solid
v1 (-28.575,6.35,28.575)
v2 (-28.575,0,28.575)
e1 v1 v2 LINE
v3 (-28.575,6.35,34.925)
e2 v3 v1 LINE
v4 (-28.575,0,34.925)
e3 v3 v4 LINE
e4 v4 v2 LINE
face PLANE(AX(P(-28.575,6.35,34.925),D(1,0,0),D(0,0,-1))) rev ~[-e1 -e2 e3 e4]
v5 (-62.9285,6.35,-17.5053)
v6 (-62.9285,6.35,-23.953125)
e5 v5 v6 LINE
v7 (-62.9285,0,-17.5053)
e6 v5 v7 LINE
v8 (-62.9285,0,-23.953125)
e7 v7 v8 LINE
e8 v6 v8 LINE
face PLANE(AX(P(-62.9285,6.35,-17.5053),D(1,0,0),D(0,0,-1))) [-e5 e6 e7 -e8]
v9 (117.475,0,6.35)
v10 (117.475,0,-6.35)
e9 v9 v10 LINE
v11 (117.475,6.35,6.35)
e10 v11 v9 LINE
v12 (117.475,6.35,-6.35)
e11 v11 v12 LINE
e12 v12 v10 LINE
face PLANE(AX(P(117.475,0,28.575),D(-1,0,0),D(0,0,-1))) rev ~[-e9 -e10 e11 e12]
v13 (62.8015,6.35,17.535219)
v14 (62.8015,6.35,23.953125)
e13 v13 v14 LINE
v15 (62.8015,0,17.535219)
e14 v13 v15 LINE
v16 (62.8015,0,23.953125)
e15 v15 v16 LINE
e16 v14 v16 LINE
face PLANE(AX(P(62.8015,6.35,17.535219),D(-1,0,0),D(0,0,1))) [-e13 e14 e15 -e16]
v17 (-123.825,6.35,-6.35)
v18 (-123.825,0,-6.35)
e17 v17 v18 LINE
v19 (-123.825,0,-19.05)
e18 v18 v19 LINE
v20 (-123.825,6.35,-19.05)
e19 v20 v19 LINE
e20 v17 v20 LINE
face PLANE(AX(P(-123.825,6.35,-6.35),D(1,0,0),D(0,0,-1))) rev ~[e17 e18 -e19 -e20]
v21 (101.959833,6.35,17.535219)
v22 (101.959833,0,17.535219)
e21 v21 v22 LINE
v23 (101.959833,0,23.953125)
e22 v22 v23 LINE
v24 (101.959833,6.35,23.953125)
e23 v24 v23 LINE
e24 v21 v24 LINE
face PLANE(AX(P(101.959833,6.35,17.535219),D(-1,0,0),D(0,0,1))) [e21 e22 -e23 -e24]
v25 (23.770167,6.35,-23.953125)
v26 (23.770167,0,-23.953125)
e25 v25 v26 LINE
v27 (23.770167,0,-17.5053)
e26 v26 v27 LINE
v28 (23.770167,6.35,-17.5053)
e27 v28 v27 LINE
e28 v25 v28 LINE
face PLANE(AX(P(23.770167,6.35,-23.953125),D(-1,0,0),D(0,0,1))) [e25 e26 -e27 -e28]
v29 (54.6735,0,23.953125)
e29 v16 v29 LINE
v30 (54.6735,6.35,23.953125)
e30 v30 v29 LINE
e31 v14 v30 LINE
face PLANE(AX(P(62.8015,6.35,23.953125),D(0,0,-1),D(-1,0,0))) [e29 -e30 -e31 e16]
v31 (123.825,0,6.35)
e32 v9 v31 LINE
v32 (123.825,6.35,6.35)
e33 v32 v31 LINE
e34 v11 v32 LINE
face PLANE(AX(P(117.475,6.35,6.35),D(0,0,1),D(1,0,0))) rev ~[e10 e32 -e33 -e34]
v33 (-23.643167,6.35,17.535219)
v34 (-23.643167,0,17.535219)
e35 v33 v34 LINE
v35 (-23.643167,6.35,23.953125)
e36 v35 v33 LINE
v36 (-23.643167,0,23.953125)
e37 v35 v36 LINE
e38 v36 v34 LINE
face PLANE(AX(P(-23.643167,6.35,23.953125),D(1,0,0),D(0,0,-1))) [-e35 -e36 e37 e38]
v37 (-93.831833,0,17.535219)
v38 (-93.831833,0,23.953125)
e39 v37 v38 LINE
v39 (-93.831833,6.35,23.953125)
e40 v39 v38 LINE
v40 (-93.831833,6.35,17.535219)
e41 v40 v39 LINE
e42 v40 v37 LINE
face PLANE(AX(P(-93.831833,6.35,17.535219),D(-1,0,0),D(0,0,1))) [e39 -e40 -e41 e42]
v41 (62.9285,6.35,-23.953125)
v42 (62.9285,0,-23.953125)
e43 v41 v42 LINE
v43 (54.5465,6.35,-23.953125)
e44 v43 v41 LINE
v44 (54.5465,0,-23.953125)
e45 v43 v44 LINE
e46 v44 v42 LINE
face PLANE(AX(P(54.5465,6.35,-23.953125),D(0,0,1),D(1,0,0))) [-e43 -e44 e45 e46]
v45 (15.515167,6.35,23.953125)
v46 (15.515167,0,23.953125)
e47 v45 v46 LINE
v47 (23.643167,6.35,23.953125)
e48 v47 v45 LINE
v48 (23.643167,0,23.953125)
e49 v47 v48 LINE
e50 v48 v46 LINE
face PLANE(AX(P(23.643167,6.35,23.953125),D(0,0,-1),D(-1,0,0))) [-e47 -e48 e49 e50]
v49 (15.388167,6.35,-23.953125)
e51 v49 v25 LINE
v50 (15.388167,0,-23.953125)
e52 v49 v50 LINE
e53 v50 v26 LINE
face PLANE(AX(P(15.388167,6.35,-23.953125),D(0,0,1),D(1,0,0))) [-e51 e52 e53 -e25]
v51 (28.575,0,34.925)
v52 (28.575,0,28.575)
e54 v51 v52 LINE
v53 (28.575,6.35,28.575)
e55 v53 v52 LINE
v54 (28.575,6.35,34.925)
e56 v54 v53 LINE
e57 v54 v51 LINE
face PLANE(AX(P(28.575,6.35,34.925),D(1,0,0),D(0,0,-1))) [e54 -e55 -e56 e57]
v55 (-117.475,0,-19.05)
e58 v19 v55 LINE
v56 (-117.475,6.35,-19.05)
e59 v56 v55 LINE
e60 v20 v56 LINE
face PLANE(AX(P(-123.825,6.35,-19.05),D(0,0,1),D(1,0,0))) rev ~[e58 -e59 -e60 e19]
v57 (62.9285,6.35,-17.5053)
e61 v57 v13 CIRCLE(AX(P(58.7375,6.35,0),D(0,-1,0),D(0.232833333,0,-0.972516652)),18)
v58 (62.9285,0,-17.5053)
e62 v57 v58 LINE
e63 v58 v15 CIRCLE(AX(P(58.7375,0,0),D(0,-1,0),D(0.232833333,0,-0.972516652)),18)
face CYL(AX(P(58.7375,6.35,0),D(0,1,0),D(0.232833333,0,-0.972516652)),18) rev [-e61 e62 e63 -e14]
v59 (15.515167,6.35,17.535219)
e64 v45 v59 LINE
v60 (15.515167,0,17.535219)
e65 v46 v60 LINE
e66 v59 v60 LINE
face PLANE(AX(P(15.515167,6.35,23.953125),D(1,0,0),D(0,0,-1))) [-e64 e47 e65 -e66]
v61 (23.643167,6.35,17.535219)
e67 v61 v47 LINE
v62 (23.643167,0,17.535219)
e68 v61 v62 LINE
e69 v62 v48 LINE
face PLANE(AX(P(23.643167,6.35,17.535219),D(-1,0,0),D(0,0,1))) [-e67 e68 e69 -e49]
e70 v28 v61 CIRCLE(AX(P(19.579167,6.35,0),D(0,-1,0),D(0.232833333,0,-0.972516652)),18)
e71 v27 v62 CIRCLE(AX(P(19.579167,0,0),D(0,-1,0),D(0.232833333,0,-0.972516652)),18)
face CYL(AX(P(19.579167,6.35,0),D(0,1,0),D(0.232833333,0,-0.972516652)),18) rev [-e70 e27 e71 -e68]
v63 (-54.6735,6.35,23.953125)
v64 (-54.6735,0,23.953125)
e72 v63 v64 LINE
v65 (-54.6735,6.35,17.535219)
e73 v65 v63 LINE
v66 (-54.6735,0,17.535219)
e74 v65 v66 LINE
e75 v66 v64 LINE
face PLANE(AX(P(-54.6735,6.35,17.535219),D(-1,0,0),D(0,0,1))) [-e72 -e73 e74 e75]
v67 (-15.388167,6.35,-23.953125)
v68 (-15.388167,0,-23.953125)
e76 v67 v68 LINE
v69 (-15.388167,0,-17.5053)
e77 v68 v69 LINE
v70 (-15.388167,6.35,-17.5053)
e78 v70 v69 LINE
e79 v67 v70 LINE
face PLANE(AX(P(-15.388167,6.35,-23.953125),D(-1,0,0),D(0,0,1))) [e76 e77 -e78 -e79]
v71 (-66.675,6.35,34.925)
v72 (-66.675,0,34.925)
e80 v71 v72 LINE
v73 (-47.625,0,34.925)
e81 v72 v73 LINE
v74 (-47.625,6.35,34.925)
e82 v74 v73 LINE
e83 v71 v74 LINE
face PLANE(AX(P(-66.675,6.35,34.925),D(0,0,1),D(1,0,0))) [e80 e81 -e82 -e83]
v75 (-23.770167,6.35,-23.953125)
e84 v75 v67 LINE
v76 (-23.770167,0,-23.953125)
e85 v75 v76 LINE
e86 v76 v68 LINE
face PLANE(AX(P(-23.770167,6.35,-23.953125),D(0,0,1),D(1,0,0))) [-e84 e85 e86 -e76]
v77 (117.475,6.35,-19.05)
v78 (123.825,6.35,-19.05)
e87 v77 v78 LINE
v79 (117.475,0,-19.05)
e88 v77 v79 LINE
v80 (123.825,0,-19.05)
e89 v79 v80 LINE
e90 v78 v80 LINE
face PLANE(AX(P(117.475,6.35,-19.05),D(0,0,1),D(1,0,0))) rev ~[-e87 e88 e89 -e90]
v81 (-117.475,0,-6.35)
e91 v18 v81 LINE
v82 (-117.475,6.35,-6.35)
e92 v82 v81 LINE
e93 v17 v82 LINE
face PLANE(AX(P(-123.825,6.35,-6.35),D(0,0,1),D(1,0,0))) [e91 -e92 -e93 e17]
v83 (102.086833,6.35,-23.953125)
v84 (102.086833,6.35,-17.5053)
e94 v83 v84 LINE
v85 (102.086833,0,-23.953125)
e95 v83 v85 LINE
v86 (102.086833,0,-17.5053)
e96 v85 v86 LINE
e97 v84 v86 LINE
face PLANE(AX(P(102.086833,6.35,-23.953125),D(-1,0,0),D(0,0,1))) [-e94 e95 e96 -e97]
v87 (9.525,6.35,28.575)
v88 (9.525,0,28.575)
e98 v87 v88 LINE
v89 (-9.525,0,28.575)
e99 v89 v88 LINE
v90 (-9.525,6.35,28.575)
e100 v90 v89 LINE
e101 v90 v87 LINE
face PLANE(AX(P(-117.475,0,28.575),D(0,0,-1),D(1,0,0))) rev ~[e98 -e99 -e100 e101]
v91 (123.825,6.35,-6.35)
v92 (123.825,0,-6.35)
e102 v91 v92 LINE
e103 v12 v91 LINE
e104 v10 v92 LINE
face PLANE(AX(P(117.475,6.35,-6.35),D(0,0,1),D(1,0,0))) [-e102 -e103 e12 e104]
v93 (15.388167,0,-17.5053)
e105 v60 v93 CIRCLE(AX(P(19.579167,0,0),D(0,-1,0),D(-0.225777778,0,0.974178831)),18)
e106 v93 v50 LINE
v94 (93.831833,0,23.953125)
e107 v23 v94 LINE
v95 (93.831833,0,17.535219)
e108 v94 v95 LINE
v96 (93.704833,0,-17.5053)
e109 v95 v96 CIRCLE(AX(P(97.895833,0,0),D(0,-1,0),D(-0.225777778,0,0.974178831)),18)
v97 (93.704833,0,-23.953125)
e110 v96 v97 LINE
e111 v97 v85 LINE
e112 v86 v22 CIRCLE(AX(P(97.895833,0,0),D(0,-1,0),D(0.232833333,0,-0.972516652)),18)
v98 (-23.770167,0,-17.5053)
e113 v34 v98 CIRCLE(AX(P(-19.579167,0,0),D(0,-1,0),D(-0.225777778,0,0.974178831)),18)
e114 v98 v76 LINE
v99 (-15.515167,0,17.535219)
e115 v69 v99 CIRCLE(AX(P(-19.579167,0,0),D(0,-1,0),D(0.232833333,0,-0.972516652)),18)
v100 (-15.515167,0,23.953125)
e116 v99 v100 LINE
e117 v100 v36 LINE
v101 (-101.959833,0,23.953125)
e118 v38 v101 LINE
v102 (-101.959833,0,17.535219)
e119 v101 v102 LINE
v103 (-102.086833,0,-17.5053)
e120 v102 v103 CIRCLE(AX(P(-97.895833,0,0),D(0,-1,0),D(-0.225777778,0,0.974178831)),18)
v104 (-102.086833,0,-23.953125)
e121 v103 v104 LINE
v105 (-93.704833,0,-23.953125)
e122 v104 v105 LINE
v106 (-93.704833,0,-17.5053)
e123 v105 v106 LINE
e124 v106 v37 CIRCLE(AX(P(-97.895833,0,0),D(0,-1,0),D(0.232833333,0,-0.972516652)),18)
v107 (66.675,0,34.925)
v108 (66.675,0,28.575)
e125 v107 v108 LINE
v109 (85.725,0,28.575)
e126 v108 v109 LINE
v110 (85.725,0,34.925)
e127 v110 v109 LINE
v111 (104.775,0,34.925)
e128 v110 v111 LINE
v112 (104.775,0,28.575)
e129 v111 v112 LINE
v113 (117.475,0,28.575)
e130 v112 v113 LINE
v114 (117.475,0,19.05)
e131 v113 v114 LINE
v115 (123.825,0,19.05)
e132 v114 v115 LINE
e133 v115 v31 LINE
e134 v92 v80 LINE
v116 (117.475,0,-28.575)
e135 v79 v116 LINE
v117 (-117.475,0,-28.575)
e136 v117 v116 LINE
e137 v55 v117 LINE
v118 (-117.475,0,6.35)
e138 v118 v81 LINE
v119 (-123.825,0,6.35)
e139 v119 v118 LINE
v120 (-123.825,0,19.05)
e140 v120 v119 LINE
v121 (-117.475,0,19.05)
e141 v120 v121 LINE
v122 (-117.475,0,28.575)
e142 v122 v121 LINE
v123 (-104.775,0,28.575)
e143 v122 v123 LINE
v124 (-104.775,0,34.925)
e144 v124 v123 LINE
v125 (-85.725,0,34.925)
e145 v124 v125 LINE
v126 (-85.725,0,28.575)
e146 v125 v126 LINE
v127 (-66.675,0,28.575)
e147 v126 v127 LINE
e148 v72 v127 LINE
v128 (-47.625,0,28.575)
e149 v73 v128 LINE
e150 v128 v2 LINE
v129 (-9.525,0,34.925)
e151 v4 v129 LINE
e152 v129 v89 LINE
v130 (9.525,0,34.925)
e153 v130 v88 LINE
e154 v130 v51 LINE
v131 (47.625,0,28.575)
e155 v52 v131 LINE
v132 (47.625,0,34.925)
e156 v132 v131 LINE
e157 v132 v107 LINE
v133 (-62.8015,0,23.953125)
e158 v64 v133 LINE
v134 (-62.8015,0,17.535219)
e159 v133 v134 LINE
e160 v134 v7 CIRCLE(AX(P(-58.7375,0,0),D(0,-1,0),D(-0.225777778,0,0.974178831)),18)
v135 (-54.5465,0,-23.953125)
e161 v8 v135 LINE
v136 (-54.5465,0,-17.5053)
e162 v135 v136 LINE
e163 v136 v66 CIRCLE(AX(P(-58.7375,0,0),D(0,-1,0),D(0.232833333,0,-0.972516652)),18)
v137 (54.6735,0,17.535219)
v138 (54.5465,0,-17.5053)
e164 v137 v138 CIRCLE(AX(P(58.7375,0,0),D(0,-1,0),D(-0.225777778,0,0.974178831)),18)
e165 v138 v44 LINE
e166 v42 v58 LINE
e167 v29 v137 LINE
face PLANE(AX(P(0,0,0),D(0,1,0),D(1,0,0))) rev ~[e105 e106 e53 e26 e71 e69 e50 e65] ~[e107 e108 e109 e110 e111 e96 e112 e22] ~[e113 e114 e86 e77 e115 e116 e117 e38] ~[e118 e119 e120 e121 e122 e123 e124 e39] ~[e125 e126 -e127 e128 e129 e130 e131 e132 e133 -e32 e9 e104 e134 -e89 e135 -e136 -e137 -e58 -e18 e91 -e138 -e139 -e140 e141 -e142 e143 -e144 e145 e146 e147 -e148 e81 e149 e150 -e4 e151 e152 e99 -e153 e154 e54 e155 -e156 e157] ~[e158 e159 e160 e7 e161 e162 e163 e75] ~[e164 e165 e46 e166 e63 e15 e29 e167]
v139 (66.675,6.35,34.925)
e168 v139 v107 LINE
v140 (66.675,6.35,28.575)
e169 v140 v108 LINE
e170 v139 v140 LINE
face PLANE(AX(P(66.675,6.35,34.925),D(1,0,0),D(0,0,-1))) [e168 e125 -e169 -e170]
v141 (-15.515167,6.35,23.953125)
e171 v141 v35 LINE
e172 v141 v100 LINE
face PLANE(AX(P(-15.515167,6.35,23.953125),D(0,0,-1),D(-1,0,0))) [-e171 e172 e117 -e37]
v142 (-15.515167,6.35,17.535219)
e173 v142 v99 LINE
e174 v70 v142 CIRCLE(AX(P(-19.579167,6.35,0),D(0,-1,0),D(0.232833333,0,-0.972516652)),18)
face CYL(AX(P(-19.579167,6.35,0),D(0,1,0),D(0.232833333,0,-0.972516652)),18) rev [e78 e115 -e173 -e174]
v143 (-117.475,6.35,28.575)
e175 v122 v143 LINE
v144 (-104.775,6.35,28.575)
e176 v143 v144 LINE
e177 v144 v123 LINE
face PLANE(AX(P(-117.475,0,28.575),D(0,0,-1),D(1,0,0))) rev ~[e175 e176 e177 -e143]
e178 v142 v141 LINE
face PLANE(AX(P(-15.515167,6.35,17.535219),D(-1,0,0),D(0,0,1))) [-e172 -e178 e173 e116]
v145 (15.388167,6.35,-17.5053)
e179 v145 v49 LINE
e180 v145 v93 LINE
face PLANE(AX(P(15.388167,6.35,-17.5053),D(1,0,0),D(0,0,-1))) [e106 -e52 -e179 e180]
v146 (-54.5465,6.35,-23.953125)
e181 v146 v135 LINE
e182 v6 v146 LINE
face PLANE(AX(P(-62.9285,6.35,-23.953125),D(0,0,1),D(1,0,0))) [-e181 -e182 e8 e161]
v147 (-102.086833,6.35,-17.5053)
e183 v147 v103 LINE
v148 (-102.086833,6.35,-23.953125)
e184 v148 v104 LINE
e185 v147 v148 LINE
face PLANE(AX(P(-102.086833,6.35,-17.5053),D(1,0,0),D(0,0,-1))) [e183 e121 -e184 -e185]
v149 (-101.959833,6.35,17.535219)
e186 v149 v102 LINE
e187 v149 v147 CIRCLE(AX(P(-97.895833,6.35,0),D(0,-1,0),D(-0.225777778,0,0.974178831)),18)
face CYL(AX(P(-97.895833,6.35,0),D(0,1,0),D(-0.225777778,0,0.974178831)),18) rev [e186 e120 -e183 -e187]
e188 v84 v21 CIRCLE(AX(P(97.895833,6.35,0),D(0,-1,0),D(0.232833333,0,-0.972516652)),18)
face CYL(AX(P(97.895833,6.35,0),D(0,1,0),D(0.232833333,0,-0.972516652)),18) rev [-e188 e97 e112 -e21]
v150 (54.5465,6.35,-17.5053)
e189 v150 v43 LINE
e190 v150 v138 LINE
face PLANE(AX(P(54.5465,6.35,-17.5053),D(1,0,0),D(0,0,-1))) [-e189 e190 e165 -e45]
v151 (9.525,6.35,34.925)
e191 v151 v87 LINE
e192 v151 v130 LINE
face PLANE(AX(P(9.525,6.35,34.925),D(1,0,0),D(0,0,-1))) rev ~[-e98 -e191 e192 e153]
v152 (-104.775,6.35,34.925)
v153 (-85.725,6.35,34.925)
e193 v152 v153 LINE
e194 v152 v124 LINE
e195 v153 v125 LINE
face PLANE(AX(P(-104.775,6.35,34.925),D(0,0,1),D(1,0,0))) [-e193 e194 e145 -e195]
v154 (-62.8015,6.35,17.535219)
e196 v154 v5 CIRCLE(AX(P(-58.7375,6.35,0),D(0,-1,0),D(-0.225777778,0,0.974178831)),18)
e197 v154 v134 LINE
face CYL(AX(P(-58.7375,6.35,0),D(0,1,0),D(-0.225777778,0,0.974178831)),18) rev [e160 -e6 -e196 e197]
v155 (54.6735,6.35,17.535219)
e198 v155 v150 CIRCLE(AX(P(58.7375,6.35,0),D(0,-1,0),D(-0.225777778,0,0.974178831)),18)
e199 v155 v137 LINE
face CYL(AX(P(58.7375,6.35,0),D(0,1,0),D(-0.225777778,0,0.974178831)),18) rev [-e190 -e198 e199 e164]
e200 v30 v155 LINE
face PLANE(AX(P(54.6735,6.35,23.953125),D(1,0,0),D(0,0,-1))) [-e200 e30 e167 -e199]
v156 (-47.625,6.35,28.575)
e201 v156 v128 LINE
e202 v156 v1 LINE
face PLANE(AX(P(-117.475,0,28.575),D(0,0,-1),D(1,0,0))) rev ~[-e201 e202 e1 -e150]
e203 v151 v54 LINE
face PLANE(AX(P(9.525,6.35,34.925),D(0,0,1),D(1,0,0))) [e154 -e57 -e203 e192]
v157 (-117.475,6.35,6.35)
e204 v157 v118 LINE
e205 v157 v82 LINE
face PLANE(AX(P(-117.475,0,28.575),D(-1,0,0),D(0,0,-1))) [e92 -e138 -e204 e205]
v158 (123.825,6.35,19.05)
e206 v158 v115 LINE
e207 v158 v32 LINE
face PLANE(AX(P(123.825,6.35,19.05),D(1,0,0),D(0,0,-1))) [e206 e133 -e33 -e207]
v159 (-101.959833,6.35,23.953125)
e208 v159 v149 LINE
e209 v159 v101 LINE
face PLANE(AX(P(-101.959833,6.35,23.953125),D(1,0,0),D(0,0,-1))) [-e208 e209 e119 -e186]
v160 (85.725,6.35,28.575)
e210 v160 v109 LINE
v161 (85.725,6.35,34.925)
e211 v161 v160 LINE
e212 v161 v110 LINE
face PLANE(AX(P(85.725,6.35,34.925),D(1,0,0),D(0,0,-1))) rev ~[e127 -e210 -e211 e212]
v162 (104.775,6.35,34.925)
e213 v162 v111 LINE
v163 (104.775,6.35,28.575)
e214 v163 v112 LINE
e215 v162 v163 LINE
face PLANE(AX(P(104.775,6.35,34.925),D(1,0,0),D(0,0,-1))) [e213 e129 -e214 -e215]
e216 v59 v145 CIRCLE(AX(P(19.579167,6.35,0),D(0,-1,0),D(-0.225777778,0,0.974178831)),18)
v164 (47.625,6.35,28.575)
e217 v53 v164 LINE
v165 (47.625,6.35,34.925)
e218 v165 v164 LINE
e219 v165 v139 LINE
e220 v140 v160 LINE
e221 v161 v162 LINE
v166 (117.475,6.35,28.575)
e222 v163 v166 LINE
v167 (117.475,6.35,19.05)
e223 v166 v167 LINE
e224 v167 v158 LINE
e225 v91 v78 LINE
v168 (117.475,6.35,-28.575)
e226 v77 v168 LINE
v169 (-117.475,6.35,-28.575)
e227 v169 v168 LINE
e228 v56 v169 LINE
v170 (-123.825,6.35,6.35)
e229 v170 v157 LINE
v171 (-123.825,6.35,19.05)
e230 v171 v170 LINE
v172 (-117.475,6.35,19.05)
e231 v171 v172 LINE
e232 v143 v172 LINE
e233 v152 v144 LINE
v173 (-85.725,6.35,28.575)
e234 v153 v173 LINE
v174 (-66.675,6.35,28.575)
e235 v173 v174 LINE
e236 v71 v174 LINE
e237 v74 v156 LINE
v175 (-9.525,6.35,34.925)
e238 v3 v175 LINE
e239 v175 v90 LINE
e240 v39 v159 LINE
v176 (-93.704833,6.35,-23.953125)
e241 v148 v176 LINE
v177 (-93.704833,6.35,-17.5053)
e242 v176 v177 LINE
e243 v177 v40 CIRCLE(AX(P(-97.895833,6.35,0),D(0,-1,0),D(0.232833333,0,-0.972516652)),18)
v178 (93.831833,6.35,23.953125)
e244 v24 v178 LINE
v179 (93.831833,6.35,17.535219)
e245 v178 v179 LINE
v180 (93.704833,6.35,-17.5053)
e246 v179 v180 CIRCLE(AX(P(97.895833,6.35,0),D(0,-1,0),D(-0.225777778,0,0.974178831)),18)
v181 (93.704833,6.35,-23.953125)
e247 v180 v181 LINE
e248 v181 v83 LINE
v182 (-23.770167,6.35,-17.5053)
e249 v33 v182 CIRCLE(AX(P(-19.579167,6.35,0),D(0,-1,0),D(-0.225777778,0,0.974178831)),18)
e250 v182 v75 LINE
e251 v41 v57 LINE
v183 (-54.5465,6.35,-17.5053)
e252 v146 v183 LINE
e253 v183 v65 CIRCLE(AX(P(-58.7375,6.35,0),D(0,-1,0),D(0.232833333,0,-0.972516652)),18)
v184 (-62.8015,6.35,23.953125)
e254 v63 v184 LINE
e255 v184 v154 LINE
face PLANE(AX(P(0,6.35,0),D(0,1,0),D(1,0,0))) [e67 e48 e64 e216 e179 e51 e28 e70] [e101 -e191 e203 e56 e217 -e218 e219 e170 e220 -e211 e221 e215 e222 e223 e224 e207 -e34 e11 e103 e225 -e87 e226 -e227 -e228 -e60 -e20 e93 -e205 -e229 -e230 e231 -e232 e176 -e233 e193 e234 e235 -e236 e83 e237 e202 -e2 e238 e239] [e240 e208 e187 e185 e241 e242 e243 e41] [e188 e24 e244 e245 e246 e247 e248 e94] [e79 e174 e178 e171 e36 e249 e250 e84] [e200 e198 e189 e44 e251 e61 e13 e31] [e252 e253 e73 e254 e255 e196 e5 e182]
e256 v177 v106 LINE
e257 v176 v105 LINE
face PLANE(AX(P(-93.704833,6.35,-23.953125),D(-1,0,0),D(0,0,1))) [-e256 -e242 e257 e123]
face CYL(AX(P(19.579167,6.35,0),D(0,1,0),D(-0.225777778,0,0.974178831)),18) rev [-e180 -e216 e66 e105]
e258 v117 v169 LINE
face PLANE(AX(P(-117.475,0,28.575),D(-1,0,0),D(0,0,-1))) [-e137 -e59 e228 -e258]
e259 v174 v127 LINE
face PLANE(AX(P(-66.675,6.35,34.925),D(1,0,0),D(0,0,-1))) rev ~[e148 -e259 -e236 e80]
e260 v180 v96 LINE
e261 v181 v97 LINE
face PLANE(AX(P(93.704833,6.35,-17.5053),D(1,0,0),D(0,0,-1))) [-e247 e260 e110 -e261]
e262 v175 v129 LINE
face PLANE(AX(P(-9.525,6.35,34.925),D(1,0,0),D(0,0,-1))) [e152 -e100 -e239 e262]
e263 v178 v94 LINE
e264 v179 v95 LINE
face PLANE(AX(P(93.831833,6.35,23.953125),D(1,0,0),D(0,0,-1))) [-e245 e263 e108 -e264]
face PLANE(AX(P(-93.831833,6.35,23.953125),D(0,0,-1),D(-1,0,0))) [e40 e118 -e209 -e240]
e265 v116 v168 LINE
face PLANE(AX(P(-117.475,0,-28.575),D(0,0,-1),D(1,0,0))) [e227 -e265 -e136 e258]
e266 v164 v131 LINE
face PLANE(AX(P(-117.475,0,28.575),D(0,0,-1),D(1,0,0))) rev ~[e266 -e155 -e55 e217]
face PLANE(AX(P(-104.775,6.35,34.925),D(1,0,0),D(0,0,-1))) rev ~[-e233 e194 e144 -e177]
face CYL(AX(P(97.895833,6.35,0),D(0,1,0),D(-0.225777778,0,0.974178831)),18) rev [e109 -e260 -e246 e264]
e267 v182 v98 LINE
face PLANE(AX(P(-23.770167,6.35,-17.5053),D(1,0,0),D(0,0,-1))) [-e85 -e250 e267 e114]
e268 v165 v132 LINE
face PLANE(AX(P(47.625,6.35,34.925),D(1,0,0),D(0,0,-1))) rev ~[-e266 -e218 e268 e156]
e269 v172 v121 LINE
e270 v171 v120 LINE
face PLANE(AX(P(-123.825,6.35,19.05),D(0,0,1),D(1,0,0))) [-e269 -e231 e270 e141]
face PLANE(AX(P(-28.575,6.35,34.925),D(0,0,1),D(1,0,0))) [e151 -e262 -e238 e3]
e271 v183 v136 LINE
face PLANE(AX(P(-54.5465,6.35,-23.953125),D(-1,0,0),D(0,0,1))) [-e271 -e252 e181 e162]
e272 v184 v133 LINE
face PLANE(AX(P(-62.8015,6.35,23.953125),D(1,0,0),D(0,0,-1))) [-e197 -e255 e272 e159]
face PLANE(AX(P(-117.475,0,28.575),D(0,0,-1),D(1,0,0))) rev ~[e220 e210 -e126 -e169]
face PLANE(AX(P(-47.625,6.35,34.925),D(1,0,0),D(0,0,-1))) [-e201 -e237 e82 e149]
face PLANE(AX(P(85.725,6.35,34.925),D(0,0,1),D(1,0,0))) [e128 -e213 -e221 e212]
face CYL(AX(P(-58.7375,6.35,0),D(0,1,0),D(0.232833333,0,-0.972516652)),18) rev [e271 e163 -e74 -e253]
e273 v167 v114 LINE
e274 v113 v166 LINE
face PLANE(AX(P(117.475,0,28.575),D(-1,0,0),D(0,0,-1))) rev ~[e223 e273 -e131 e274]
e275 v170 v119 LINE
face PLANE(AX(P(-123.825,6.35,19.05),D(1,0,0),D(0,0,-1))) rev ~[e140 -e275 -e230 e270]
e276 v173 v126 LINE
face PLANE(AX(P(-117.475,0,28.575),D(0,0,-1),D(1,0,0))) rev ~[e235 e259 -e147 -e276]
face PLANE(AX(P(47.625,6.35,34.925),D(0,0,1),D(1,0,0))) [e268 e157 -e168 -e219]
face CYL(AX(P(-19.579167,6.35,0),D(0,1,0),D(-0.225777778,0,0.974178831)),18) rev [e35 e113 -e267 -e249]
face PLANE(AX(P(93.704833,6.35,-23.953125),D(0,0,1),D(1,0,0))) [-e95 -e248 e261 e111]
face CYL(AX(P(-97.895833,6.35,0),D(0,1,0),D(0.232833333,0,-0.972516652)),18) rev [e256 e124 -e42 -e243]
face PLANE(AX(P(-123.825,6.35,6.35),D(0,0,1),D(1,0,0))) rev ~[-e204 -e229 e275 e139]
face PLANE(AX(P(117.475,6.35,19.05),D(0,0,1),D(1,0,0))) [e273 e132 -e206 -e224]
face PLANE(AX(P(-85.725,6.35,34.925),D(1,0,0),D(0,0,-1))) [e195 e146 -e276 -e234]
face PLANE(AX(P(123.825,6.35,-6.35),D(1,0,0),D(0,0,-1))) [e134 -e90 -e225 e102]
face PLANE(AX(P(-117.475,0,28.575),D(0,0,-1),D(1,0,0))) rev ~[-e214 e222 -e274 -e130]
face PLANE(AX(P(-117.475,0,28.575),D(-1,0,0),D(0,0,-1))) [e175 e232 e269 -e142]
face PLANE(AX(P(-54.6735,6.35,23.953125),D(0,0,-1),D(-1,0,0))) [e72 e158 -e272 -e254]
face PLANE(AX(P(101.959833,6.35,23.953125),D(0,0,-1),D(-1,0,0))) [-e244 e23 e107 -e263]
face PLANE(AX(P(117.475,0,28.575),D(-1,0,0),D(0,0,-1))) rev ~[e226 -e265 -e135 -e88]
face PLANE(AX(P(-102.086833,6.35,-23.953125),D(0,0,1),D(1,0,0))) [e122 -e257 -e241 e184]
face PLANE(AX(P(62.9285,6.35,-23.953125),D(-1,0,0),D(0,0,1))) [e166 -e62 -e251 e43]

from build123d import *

# Parameters (mm, degrees)
ESQUISSE1_W                     = 234.95
ESQUISSE1_H                     = 57.15
BOSS_EXTRU_1_DEPTH              = 6.35
ENL_V_MAT_EXTRU_1_DEPTH         = 6.35
R_P_TITION_LIN_AIRE1_COUNT      = 6
R_P_TITION_LIN_AIRE1_PITCH      = 39.158333333
ESQUISSE3_W                     = 19.05
ESQUISSE3_H                     = 6.35
BOSS_EXTRU_2_DEPTH              = 6.35
R_P_TITION_LIN_AIRE2_COUNT      = 6
R_P_TITION_LIN_AIRE2_PITCH      = 38.1
ESQUISSE5_W                     = 6.35
ESQUISSE5_H                     = 12.7
BOSS_EXTRU_4_DEPTH              = 6.35
R_P_TITION_LIN_AIRE4_COUNT      = 2
R_P_TITION_LIN_AIRE4_PITCH      = 25.4
R_P_TITION_LIN_AIRE4_COUNT_DIR2 = 2
R_P_TITION_LIN_AIRE4_PITCH_DIR2 = 241.3


with BuildPart() as part:
    # Esquisse1 → Boss.-Extru.1 (new body)
    with BuildSketch(Plane(origin=(0, 0, 0), x_dir=(1, 0, 0), z_dir=(0, 1, 0))):
        Rectangle(ESQUISSE1_W, ESQUISSE1_H)
    extrude(amount=BOSS_EXTRU_1_DEPTH)

    # Esquisse2 → Enlèv. mat.-Extru.1 (cut)
    with BuildSketch(Plane(origin=(0, 6.35, 0), x_dir=(1, 0, 0), z_dir=(0, 1, 0))):
        with BuildLine():
            Line((93.704833333, 17.50529974), (93.704833333, 23.953124941))
            Line((93.704833333, 23.953124941), (102.086833333, 23.953124941))
            Line((102.086833333, 23.953124941), (102.086833333, 17.50529974))
            ThreePointArc((102.086833333, 17.50529974), (115.89571511, -0.065238332), (101.959833333, -17.535218961))
            Line((101.959833333, -17.535218961), (101.959833333, -23.953124941))
            Line((101.959833333, -23.953124941), (93.831833333, -23.953124941))
            Line((93.831833333, -23.953124941), (93.831833333, -17.535218961))
            ThreePointArc((93.831833333, -17.535218961), (79.895951557, -0.065238332), (93.704833333, 17.50529974))
        make_face()
    enl_v_mat_extru_1 = extrude(amount=-ENL_V_MAT_EXTRU_1_DEPTH, mode=Mode.SUBTRACT)

    # Répétition linéaire1: Enlèv. mat.-Extru.1 ×6
    with Locations(*[(-i * R_P_TITION_LIN_AIRE1_PITCH, 0, 0) for i in range(1, R_P_TITION_LIN_AIRE1_COUNT)]):
        add(enl_v_mat_extru_1, mode=Mode.SUBTRACT)

    # Esquisse3 → Boss.-Extru.2 (add)
    with BuildSketch(Plane(origin=(0, 6.35, 0), x_dir=(1, 0, 0), z_dir=(0, 1, 0))):
        with Locations((-95.25, -31.75)):
            Rectangle(ESQUISSE3_W, ESQUISSE3_H)
    boss_extru_2 = extrude(amount=-BOSS_EXTRU_2_DEPTH)

    # Répétition linéaire2: Boss.-Extru.2 ×6
    with Locations(*[(i * R_P_TITION_LIN_AIRE2_PITCH, 0, 0) for i in range(1, R_P_TITION_LIN_AIRE2_COUNT)]):
        add(boss_extru_2)

    # Esquisse5 → Boss.-Extru.4 (add)
    with BuildSketch(Plane(origin=(0, 6.35, 0), x_dir=(1, 0, 0), z_dir=(0, 1, 0))):
        with Locations((-120.65, -12.7)):
            Rectangle(ESQUISSE5_W, ESQUISSE5_H)
    boss_extru_4 = extrude(amount=-BOSS_EXTRU_4_DEPTH)

    # Répétition linéaire4: Boss.-Extru.4 2 × 2
    with Locations(*[(j * R_P_TITION_LIN_AIRE4_PITCH_DIR2, 0, -i * R_P_TITION_LIN_AIRE4_PITCH) for i in range(R_P_TITION_LIN_AIRE4_COUNT) for j in range(R_P_TITION_LIN_AIRE4_COUNT_DIR2) if (i, j) != (0, 0)]):
        add(boss_extru_4)


solid = part.part
